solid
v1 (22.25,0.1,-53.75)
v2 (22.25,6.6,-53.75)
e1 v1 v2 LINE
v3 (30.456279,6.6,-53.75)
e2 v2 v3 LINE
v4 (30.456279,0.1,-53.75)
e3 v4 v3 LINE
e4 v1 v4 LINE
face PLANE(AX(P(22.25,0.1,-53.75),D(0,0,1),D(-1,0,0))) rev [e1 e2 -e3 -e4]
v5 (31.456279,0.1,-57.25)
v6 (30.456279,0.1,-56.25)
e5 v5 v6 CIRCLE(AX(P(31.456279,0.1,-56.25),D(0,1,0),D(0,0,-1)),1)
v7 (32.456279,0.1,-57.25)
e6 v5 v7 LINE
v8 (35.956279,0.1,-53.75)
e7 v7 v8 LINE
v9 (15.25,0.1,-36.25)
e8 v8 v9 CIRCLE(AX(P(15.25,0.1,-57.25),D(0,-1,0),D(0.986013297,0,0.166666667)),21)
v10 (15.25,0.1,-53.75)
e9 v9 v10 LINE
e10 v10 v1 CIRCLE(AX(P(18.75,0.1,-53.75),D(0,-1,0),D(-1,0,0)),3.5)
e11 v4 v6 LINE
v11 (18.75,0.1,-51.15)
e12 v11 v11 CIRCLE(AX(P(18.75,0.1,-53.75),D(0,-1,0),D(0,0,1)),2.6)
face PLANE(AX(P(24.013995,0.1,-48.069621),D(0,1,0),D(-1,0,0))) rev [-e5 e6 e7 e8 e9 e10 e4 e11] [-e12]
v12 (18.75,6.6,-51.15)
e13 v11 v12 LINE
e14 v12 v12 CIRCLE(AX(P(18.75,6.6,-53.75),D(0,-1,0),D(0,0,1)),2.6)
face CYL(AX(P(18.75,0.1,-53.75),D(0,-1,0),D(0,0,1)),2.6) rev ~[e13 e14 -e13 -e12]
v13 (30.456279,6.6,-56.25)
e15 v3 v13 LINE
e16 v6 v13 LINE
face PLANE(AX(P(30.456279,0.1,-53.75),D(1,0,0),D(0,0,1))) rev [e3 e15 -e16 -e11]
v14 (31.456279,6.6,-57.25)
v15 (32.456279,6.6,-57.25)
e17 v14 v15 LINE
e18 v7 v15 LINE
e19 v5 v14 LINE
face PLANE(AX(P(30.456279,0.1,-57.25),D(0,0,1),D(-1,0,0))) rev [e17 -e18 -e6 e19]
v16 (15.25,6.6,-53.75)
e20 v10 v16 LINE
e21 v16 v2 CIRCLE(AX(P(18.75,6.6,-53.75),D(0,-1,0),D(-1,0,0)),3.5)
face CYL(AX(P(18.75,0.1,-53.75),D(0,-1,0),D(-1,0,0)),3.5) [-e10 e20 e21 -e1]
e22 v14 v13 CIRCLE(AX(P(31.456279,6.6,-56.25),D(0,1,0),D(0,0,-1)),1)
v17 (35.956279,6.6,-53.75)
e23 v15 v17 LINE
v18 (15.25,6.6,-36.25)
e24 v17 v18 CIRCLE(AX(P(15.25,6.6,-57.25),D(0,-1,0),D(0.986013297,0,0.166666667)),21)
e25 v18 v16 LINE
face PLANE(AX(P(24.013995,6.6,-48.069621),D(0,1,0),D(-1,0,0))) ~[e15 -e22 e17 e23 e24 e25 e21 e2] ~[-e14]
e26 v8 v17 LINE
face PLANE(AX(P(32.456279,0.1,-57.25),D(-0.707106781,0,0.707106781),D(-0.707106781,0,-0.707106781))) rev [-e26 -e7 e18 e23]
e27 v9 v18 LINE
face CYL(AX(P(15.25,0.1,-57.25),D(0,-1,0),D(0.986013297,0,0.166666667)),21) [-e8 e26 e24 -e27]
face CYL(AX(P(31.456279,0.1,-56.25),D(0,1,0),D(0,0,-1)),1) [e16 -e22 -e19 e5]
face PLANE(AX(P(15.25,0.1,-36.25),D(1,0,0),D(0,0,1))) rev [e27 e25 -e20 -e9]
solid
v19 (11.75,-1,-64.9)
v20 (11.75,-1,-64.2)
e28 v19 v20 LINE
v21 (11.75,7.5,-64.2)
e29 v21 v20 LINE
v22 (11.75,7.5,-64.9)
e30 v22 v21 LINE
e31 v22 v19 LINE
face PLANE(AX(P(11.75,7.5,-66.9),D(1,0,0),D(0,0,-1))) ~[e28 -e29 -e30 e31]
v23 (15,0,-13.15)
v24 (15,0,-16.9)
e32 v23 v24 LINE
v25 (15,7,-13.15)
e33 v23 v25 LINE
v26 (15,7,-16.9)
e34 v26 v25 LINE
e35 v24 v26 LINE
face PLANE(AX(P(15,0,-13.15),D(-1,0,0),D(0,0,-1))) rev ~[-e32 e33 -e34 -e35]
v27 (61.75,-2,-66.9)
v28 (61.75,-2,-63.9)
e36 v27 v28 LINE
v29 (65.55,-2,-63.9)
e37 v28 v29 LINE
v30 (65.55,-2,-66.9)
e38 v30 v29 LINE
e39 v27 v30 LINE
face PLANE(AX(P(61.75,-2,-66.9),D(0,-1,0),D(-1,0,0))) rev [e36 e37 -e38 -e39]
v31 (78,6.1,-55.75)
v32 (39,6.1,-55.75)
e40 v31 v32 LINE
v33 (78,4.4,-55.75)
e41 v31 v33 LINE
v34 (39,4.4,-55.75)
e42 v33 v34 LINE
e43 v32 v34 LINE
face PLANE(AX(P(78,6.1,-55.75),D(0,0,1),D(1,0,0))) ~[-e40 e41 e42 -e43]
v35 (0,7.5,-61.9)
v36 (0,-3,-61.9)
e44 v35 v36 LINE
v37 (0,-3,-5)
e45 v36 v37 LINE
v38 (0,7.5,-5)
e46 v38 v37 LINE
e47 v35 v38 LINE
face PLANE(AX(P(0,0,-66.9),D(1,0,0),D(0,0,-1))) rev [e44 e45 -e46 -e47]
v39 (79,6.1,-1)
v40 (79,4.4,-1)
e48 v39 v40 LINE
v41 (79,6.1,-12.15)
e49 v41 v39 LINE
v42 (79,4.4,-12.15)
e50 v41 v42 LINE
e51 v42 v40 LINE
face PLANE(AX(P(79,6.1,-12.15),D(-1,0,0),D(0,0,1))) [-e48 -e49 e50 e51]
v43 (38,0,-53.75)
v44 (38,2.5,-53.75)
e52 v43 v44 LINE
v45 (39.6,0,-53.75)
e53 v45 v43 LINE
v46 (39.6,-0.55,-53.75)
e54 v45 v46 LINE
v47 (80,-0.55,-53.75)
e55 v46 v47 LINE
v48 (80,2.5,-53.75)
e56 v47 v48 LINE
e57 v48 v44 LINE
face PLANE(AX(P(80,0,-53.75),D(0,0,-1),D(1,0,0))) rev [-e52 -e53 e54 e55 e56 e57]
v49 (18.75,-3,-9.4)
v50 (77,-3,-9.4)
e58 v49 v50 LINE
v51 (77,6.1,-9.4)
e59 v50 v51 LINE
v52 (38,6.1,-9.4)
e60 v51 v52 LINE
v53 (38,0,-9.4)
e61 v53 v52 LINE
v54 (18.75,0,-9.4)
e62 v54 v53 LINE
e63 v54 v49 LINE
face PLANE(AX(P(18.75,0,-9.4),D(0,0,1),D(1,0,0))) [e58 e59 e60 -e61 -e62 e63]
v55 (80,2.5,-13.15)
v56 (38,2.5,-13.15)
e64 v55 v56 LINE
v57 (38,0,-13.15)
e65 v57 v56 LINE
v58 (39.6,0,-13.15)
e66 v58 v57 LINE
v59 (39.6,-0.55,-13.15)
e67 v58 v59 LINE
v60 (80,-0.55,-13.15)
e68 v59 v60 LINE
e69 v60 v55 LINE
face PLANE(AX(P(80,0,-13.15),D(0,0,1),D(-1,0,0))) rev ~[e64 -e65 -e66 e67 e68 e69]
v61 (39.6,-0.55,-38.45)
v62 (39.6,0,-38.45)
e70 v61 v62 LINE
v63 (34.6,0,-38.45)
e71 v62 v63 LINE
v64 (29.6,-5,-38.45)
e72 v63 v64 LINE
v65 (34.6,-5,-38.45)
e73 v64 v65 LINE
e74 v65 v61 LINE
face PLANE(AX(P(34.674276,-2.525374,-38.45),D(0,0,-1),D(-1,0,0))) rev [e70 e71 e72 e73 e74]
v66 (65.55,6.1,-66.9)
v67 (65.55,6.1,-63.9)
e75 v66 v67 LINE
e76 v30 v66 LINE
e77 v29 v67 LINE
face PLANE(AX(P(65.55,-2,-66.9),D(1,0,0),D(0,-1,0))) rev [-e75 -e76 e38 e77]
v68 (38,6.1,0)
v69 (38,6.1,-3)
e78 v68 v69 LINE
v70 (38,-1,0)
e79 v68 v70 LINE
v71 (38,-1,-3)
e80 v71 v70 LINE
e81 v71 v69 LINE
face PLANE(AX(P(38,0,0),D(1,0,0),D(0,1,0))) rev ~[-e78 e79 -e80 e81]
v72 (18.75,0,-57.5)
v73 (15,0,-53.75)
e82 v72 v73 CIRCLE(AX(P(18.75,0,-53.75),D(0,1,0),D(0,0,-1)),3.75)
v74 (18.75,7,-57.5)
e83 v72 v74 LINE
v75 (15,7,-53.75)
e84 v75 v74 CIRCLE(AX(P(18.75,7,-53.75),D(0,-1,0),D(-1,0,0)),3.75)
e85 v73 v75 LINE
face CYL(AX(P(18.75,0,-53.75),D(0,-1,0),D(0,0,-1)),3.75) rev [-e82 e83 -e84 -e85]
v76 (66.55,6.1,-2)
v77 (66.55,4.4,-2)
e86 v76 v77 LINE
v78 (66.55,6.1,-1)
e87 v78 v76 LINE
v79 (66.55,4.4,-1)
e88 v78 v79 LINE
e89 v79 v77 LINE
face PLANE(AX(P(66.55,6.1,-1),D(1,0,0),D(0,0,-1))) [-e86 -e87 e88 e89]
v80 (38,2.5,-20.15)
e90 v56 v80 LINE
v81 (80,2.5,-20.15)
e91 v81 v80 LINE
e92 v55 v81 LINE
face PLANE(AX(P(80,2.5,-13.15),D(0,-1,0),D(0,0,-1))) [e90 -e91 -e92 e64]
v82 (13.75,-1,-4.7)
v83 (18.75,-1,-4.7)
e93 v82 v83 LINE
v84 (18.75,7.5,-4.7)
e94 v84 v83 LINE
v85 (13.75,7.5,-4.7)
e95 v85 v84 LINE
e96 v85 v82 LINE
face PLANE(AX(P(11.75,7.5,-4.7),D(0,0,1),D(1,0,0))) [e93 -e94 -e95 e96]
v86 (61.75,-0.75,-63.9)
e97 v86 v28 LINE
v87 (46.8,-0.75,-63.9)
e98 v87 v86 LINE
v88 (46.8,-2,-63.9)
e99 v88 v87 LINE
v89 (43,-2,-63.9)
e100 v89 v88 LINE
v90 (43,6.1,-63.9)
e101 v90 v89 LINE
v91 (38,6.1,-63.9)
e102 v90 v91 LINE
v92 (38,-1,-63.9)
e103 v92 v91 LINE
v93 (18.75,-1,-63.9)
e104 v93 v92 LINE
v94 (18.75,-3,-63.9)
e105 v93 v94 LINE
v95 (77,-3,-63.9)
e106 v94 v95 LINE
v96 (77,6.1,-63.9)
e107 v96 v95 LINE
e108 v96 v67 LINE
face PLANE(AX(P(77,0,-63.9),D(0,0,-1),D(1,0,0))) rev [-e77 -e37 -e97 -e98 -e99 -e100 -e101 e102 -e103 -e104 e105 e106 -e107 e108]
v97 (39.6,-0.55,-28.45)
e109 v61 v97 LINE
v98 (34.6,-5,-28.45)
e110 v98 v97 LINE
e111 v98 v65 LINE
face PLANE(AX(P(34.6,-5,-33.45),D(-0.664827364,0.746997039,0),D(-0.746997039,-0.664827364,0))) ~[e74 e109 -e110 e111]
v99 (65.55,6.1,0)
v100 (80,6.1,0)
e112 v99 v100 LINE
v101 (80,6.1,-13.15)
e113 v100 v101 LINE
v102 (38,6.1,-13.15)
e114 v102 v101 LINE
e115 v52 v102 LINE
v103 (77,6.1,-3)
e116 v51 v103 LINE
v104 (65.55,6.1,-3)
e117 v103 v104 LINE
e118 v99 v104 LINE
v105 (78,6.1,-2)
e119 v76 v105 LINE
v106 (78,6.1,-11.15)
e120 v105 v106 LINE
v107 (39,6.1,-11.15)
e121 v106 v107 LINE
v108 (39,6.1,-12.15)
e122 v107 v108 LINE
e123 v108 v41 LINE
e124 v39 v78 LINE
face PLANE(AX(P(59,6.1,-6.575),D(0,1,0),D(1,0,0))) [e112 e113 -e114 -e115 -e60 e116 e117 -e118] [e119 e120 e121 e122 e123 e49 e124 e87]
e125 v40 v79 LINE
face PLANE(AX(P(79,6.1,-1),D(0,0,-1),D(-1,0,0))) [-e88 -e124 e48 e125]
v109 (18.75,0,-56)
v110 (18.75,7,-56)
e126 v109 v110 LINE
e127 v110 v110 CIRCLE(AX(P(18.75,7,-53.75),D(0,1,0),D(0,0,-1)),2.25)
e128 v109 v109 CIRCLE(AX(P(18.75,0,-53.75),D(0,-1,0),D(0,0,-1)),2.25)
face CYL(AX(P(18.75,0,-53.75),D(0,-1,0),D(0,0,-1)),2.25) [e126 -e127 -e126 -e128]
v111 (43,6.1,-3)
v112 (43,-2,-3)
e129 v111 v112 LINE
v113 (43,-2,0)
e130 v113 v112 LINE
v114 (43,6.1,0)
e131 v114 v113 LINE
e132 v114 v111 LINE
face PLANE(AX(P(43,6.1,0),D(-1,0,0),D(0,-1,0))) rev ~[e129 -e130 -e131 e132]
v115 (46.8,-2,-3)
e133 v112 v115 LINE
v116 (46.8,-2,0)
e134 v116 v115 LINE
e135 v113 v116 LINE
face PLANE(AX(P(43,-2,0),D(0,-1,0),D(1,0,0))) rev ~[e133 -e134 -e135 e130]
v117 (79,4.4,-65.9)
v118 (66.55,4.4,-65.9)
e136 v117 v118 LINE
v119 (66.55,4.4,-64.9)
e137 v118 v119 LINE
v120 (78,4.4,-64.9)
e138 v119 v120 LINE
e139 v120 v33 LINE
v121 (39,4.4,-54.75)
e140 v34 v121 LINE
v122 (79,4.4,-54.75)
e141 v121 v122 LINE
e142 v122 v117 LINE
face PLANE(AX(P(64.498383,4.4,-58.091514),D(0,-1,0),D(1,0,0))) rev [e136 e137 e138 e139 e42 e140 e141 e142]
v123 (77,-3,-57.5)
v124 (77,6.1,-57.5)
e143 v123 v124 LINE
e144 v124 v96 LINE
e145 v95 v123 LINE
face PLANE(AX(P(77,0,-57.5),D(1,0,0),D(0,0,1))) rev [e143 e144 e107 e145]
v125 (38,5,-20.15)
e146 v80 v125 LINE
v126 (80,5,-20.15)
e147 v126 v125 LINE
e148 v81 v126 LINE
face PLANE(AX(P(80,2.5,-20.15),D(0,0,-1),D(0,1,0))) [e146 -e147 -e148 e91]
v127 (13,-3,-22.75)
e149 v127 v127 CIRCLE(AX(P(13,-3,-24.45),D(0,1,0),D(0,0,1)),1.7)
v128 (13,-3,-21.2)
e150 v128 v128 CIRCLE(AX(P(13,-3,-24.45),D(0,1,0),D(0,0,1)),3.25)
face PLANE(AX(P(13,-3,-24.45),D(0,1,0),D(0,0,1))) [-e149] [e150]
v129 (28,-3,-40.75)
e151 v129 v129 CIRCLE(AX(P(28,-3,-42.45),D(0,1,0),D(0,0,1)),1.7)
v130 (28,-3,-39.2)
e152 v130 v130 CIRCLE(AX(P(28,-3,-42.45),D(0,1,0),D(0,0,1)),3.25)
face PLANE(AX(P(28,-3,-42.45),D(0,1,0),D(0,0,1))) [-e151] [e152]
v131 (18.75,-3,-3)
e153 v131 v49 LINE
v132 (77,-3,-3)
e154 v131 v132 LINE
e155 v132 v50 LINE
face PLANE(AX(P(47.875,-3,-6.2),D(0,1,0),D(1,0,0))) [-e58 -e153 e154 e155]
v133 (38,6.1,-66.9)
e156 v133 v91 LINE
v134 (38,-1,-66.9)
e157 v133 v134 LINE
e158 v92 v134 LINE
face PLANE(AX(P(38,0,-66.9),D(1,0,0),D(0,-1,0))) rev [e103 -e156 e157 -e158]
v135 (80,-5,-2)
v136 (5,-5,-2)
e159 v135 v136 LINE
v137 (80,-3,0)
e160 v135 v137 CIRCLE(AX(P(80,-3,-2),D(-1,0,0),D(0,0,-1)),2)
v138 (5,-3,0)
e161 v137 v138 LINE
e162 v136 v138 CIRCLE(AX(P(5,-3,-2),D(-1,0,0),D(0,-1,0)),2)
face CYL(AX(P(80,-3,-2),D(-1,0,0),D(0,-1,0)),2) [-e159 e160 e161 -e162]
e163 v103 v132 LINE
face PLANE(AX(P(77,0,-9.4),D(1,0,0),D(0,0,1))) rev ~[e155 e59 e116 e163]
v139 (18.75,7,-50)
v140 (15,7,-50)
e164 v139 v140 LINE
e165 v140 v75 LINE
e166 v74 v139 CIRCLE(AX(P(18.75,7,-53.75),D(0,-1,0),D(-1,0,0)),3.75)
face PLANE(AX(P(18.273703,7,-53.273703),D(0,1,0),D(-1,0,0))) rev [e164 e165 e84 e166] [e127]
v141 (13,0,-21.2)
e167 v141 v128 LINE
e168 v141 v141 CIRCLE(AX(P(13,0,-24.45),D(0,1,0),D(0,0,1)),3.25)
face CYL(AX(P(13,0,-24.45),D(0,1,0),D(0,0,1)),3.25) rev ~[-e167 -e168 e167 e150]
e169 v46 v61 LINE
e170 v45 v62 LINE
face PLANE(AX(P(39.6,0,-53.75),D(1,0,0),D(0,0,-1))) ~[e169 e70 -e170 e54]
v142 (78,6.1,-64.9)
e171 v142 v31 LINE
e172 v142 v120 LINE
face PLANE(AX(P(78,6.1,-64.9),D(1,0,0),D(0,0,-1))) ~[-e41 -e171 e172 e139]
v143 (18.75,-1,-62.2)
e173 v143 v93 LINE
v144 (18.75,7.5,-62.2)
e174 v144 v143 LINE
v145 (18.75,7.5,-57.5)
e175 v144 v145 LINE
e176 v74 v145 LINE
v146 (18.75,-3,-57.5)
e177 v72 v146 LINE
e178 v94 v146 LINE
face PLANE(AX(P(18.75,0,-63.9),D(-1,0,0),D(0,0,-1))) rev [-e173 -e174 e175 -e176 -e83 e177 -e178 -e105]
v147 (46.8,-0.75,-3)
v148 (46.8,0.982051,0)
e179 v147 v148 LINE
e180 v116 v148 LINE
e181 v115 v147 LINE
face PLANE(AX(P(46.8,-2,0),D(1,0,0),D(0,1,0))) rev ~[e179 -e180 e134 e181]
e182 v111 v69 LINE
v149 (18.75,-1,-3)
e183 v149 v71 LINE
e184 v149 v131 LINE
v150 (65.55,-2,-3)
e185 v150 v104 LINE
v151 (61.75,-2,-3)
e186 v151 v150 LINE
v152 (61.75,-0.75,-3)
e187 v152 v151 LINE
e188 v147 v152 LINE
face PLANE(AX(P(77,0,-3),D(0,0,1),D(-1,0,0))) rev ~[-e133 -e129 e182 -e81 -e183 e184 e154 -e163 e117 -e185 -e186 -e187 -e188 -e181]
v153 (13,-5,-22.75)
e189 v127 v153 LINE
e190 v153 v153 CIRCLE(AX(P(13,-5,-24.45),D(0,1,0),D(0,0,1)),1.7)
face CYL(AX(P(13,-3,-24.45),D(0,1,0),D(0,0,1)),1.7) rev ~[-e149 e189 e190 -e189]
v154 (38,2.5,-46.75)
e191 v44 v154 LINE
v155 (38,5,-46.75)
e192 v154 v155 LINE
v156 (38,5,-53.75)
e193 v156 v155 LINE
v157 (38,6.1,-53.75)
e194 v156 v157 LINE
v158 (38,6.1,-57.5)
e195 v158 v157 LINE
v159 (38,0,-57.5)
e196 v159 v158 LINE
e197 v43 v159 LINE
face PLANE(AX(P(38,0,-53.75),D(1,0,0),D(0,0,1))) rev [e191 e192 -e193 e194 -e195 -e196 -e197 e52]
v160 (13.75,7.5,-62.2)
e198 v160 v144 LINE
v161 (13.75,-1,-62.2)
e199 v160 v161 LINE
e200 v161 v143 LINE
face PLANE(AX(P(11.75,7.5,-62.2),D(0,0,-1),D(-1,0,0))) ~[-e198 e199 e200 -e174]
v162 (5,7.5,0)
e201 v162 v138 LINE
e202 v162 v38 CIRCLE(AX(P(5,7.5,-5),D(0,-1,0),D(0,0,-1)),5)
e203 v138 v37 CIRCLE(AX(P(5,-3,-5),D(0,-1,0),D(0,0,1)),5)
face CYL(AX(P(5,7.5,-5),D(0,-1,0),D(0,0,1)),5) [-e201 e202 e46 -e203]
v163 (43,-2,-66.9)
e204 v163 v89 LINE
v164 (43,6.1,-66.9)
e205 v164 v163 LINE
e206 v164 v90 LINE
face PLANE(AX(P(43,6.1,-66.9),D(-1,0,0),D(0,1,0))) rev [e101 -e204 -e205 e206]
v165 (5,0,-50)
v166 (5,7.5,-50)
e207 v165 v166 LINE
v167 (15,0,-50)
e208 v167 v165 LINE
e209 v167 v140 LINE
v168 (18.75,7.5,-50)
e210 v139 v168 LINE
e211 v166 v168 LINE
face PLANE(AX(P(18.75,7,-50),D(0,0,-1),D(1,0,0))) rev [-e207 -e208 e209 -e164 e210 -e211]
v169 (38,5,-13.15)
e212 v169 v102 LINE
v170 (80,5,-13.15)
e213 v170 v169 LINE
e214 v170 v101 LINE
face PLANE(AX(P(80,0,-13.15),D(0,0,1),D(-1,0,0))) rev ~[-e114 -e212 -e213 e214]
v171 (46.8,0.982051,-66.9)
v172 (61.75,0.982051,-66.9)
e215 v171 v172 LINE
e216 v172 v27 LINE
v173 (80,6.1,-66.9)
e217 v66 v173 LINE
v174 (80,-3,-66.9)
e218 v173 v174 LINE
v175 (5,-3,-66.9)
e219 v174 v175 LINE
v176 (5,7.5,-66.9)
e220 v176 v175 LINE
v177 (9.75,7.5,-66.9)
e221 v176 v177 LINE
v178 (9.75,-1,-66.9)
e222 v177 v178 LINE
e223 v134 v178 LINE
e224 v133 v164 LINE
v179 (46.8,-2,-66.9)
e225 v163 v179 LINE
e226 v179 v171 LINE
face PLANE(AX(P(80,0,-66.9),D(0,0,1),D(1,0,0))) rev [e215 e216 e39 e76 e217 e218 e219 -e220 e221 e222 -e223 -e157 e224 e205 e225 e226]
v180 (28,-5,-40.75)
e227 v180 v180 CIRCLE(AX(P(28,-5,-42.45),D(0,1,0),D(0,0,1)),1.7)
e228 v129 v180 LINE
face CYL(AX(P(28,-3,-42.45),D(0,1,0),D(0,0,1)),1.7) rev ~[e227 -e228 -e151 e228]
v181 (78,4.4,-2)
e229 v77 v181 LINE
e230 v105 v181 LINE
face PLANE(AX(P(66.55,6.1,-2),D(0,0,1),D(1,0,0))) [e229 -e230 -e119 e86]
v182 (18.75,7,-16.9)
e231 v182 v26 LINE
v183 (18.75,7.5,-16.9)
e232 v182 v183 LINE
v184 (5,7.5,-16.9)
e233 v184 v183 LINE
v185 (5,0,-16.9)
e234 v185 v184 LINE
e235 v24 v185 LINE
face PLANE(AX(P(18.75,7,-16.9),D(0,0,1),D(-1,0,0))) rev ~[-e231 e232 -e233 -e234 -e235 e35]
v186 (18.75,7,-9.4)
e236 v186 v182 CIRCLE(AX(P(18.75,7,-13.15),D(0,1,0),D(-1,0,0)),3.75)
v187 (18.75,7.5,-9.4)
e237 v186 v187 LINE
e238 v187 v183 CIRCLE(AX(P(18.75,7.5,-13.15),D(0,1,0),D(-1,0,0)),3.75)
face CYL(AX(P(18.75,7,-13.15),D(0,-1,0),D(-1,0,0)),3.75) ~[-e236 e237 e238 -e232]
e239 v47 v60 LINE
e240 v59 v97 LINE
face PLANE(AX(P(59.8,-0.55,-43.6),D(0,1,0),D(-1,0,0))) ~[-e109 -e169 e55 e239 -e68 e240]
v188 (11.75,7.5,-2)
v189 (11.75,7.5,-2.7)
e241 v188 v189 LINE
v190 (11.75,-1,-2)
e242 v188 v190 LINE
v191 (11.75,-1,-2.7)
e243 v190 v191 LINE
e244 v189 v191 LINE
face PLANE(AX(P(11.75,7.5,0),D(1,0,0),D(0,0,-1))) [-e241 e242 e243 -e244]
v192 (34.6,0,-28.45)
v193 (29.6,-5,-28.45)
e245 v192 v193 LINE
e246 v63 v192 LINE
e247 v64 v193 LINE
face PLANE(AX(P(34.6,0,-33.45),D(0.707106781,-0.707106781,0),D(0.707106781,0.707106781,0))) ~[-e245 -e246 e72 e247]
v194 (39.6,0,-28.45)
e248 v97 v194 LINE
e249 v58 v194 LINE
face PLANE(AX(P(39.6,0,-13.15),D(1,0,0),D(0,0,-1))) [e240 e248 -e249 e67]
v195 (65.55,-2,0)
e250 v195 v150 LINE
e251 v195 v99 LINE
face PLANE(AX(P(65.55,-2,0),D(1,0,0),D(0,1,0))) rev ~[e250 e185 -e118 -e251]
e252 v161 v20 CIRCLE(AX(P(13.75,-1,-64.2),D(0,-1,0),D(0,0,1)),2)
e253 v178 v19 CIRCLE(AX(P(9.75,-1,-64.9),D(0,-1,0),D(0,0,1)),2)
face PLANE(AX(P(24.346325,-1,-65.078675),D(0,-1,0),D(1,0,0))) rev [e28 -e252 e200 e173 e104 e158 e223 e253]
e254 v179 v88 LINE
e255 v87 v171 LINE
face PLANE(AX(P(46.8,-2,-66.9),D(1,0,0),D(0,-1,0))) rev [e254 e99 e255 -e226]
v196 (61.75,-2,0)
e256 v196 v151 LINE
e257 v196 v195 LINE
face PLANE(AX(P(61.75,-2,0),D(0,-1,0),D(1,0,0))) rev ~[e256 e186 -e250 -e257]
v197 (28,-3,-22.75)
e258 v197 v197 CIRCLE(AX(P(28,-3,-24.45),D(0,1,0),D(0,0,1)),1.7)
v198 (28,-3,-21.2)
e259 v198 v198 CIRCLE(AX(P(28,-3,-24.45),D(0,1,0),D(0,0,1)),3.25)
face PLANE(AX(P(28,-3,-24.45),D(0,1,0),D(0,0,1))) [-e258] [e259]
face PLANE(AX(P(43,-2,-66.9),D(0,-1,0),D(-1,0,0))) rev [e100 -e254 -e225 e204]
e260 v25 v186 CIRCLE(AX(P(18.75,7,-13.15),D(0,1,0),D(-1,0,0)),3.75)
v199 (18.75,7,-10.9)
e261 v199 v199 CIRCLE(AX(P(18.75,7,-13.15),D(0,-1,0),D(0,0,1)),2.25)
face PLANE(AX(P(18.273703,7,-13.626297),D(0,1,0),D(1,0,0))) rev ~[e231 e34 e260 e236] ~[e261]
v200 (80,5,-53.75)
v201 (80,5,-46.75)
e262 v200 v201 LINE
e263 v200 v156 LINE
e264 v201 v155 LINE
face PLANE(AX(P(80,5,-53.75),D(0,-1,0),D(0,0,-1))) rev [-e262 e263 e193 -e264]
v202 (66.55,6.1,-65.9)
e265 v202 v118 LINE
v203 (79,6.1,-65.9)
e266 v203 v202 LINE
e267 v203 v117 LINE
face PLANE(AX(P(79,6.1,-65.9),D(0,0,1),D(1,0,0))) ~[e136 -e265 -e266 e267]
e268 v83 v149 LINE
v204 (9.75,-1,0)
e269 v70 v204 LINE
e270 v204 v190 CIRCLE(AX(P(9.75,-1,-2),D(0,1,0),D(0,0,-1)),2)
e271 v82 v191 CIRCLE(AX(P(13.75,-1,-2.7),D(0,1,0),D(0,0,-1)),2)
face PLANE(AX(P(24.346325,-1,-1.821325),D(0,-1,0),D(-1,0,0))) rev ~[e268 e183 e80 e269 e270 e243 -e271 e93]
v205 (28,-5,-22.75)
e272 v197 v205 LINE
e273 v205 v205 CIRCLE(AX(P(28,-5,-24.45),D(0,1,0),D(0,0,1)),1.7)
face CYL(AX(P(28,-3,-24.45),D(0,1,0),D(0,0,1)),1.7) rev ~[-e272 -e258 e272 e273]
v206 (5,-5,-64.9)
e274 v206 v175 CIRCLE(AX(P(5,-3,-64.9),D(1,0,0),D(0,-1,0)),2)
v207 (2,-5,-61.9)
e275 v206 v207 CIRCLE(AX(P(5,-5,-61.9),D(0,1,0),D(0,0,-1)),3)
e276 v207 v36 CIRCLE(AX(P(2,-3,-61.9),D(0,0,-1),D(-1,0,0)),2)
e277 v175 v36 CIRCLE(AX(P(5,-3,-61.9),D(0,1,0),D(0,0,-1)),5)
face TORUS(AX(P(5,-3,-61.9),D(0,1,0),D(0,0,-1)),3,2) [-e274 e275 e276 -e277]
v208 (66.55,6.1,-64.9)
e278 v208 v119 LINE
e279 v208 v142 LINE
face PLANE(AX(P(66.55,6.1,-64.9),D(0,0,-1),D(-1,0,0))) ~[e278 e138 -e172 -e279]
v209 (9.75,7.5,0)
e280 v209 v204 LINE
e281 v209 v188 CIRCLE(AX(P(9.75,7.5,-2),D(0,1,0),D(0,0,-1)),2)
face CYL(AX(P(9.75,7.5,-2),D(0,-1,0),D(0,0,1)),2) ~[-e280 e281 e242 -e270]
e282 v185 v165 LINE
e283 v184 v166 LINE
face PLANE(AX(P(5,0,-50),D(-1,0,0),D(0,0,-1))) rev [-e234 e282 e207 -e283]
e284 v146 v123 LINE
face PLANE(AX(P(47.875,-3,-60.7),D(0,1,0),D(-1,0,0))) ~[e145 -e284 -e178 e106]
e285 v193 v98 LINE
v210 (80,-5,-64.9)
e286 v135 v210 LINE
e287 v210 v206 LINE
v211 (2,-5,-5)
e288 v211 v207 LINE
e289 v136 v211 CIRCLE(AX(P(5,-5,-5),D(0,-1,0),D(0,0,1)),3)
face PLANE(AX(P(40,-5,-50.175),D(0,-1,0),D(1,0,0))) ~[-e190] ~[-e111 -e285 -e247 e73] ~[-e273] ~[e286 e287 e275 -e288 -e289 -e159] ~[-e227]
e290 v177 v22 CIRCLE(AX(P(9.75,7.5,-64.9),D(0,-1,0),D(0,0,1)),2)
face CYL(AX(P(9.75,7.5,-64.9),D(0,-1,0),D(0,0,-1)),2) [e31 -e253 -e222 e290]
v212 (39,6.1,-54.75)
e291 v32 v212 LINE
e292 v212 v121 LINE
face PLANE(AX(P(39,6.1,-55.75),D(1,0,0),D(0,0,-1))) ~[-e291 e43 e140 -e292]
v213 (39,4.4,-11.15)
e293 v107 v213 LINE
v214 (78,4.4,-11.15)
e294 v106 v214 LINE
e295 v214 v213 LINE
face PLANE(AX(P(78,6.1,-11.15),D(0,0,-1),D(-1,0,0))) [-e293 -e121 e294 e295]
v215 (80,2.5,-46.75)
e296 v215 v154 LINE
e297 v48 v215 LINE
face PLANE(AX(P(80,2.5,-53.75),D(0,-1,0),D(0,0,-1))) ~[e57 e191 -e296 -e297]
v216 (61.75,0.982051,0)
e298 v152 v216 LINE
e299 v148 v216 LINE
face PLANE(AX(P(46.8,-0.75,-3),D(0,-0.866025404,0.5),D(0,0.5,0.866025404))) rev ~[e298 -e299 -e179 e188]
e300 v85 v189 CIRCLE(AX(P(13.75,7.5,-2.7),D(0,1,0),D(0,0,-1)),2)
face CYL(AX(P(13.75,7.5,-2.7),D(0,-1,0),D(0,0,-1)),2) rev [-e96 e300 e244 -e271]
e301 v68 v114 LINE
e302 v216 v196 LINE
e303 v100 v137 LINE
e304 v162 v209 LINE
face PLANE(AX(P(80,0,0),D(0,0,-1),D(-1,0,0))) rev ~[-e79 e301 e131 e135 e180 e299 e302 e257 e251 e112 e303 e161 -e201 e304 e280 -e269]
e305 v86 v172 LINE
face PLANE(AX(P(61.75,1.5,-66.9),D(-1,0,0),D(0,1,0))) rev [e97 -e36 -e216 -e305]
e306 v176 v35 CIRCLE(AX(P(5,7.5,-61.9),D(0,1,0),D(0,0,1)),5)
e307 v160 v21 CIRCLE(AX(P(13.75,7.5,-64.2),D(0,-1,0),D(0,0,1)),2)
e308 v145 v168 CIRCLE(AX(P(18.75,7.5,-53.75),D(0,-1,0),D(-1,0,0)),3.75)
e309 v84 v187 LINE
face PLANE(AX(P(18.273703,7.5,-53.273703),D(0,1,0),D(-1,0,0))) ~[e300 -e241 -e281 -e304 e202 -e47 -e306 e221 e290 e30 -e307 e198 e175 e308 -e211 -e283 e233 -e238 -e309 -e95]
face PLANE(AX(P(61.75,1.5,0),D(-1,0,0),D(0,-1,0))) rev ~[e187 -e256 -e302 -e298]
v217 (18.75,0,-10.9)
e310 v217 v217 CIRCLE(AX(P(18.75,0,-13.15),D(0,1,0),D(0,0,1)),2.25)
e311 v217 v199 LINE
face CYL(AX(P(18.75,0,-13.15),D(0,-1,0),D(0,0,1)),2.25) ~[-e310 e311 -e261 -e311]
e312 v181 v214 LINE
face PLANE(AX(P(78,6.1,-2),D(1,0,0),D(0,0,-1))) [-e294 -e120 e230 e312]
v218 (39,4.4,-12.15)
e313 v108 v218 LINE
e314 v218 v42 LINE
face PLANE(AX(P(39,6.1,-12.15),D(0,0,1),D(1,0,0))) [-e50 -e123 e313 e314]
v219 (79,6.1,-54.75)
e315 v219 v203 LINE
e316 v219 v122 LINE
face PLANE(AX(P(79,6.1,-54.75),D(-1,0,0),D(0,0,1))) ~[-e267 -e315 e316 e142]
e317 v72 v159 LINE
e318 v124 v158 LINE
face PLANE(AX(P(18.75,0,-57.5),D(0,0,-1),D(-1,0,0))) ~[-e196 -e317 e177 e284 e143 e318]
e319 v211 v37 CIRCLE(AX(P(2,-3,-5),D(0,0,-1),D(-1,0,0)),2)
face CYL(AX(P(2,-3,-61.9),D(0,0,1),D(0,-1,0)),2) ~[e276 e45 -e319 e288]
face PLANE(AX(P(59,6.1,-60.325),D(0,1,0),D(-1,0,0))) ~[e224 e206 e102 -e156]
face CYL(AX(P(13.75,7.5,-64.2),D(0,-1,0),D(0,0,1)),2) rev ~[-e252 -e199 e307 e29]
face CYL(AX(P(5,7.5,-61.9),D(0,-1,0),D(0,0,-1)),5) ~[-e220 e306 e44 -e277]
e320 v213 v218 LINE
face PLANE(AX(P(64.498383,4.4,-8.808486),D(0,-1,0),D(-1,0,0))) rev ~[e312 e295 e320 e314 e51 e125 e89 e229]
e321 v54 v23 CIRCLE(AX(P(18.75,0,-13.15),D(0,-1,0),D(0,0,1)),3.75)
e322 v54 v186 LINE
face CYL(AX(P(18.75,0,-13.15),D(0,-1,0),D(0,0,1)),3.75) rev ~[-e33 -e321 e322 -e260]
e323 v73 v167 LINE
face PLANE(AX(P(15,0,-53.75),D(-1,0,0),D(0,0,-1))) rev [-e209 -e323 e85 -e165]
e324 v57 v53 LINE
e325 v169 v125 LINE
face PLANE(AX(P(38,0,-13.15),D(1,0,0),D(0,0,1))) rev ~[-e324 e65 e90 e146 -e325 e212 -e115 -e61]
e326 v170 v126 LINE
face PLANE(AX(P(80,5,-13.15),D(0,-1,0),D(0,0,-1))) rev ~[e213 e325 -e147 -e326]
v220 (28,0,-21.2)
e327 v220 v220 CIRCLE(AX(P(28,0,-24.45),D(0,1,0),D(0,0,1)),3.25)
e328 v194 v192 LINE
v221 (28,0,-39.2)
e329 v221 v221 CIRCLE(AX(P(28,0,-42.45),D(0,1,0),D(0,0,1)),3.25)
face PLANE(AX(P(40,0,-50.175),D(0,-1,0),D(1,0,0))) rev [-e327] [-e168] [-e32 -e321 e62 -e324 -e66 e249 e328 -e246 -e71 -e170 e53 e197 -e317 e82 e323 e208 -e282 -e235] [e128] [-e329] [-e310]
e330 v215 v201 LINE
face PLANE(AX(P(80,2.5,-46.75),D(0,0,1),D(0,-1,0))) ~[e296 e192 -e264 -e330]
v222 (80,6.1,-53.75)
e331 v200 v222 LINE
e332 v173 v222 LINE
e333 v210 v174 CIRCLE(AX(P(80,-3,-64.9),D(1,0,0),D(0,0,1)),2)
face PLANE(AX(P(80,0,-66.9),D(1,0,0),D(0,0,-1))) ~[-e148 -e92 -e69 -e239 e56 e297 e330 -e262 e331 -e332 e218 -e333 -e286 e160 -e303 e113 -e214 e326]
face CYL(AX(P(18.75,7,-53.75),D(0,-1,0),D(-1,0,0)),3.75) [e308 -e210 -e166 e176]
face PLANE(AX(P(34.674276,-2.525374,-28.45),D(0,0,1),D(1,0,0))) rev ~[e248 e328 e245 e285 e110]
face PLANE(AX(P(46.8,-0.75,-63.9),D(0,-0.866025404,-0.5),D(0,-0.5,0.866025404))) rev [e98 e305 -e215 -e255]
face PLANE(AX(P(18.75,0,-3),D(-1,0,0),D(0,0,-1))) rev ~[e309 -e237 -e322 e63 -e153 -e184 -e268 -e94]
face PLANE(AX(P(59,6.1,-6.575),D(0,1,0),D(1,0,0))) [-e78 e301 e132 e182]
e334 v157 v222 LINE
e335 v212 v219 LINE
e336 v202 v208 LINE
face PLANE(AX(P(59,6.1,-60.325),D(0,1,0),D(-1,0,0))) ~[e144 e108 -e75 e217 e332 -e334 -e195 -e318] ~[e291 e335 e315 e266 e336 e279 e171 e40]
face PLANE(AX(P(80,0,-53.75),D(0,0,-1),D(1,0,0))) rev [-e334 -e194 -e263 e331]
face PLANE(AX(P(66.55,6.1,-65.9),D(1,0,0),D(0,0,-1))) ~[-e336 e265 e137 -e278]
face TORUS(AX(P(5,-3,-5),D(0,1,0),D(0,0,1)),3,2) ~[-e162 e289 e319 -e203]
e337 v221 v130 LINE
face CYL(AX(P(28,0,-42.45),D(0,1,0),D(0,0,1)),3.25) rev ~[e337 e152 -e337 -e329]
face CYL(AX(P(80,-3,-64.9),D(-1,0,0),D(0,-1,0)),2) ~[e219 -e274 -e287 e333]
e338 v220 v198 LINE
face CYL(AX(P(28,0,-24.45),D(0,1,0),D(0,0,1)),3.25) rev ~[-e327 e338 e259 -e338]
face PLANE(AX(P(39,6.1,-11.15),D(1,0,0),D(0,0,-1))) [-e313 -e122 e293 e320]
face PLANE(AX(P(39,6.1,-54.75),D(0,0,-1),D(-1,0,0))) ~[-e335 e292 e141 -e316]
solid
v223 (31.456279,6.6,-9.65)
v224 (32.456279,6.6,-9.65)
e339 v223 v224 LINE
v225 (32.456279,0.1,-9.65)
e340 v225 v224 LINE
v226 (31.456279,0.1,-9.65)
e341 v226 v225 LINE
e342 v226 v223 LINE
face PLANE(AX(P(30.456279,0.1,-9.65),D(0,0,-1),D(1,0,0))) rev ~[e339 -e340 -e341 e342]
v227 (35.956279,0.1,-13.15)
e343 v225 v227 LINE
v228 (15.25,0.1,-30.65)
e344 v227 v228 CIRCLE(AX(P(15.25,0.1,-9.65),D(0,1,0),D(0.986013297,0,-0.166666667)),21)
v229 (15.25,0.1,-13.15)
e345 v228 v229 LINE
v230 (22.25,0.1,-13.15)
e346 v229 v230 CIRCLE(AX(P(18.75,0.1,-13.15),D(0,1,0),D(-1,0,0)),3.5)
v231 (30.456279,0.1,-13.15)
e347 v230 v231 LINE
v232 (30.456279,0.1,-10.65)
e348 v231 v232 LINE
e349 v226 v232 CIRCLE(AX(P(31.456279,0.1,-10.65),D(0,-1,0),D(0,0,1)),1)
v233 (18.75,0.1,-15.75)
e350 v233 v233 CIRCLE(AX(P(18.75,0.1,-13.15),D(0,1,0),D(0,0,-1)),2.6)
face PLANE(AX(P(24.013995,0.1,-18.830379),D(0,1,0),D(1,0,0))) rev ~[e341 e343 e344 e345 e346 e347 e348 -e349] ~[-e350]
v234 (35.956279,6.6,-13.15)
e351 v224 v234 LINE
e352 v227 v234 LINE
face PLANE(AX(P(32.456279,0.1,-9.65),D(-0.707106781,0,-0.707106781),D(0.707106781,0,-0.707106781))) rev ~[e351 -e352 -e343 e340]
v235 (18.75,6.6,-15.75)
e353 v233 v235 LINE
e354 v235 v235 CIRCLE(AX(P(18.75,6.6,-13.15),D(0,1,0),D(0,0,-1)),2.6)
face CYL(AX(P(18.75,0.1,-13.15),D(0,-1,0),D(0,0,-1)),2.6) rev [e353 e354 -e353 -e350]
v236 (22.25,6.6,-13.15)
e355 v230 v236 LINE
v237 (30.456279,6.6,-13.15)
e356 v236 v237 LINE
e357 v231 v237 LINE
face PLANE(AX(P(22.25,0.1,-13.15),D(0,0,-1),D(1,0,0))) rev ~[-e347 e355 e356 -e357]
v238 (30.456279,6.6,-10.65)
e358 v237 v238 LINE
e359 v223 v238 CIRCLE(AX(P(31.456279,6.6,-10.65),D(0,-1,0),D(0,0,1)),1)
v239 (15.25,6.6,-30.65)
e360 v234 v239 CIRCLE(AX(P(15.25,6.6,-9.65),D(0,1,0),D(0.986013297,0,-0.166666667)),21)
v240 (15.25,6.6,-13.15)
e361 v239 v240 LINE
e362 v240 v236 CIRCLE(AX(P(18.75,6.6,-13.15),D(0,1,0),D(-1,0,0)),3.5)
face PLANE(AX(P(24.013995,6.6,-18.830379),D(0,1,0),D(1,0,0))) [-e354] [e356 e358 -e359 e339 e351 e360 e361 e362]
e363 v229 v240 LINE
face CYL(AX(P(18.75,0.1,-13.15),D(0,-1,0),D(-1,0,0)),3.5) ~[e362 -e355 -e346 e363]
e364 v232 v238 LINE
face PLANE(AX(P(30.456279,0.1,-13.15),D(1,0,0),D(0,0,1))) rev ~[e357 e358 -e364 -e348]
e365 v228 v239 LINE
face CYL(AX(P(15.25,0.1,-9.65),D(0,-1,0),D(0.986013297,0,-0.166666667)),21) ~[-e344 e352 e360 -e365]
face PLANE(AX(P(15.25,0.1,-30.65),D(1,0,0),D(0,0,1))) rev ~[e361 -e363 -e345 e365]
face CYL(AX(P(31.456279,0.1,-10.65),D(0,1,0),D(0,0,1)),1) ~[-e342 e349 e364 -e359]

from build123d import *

# Parameters (mm, degrees)
SKETCH1_R           = 2.25
BOSS_EXTRUDE1_DEPTH = 7.5
SKETCH2_W           = 80
SKETCH2_H           = 33.45
BOSS_EXTRUDE2_DEPTH = 5
SKETCH3_W           = 19.25
SKETCH3_H           = 7.5
CUT_EXTRUDE1_DEPTH  = 3
SKETCH4_W           = 58.25
SKETCH4_H           = 6.4
CUT_EXTRUDE2_DEPTH  = 3
SKETCH5_W           = 7
SKETCH5_H           = 2.5
BOSS_EXTRUDE3_DEPTH = 42
SKETCH6_W           = 40.4
SKETCH6_H           = 20.3
CUT_EXTRUDE3_DEPTH  = 0.55
BOSS_EXTRUDE4_START = 0.1
SKETCH7_R           = 2.6
BOSS_EXTRUDE4_DEPTH = 6.5
BOSS_EXTRUDE5_START = -0.5
BOSS_EXTRUDE5_DEPTH = 0.5
SKETCH9_W           = 7
SKETCH9_H           = 4.7
CUT_EXTRUDE4_DEPTH  = 7.5
CUT_EXTRUDE5_DEPTH  = 1
FILLET2_R           = 2
FILLET3_R           = 1
FILLET4_R           = 5
FILLET5_R           = 2
CUT_EXTRUDE11_DEPTH = 5
CUT_EXTRUDE12_DEPTH = 14.95
SKETCH17_W          = 42
SKETCH17_H          = 13.15
CUT_EXTRUDE13_DEPTH = 1.4
CUT_EXTRUDE14_DEPTH = 1.7
SKETCH19_R          = 3.25
SKETCH19_R_2        = 1.7
CUT_EXTRUDE15_DEPTH = 3
SKETCH20_R          = 1.7
CUT_EXTRUDE16_DEPTH = 105.813453335


with BuildPart() as part:
    # Sketch1 → Boss-Extrude1 (new body)
    with BuildSketch(Plane(origin=(0, 0, 0), x_dir=(1, 0, 0), z_dir=(0, 1, 0))):
        with BuildLine():
            Line((5, 16.9), (5, 33.45))
            Line((5, 33.45), (0, 33.45))
            Line((0, 33.45), (0, 0))
            Line((0, 0), (80, 0))
            Line((80, 0), (80, 9.4))
            Line((80, 9.4), (77, 9.4))
            Line((77, 9.4), (77, 3))
            Line((77, 3), (18.75, 3))
            Line((18.75, 3), (18.75, 9.4))
            ThreePointArc((18.75, 9.4), (16.098349571, 10.498349571), (15, 13.15))
            Line((15, 13.15), (15, 16.9))
            Line((15, 16.9), (5, 16.9))
        make_face()
        with Locations(Location((18.75, 13.15, 0), (0, 0, 270))):
            Circle(SKETCH1_R)
        Polygon((80, 9.4), (80, 13.15), (38, 13.15), (38, 9.4), (77, 9.4), align=None)
    extrude(amount=BOSS_EXTRUDE1_DEPTH)

    # Sketch2 → Boss-Extrude2 (add)
    with BuildSketch(Plane(origin=(0, 0, 0), x_dir=(-1, 0, 0), z_dir=(0, -1, 0))):
        with Locations((-40, 16.725)):
            Rectangle(SKETCH2_W, SKETCH2_H)
    extrude(amount=BOSS_EXTRUDE2_DEPTH)

    # Sketch3 → Cut-Extrude1 (cut)
    with BuildSketch(Plane.XY):
        Polygon((65.55, 6.1), (43, 6.1), (43, -2), (46.8, -2), (46.8, 1.5), (61.75, 1.5), (61.75, -2), (65.55, -2), align=None)
        with Locations((28.375, 3.75)):
            Rectangle(SKETCH3_W, SKETCH3_H)
    extrude(amount=-CUT_EXTRUDE1_DEPTH, mode=Mode.SUBTRACT)

    # Sketch4 → Cut-Extrude2 (cut)
    with BuildSketch(Plane(origin=(0, 0, 0), x_dir=(1, 0, 0), z_dir=(0, 1, 0))):
        with Locations((47.875, 6.2)):
            Rectangle(SKETCH4_W, SKETCH4_H)
    extrude(amount=-CUT_EXTRUDE2_DEPTH, mode=Mode.SUBTRACT)

    # Sketch5 → Boss-Extrude3 (add)
    with BuildSketch(Plane(origin=(80, 0, 0), x_dir=(0, 0, -1), z_dir=(1, 0, 0))):
        with Locations((16.65, 3.75)):
            Rectangle(SKETCH5_W, SKETCH5_H)
    extrude(amount=-BOSS_EXTRUDE3_DEPTH)

    # Sketch6 → Cut-Extrude3 (cut)
    with BuildSketch(Plane(origin=(0, 0, 0), x_dir=(1, 0, 0), z_dir=(0, 1, 0))):
        with Locations((59.8, 23.3)):
            Rectangle(SKETCH6_W, SKETCH6_H)
    extrude(amount=-CUT_EXTRUDE3_DEPTH, mode=Mode.SUBTRACT)

    # Sketch8 → Boss-Extrude5 (add)
    with BuildSketch(Plane(origin=(0, 7.5, 0), x_dir=(1, 0, 0), z_dir=(0, 1, 0)).offset(BOSS_EXTRUDE5_START)):
        with BuildLine():
            Line((15, 16.9), (15, 13.15))
            ThreePointArc((15, 13.15), (21.401650429, 10.498349571), (18.75, 16.9))
            Line((18.75, 16.9), (15, 16.9))
        make_face()
    extrude(amount=BOSS_EXTRUDE5_DEPTH)

    # Sketch9 → Cut-Extrude4 (cut)
    with BuildSketch(Plane(origin=(0, 7.5, 0), x_dir=(1, 0, 0), z_dir=(0, 1, 0))):
        with Locations((15.25, 2.35)):
            Rectangle(SKETCH9_W, SKETCH9_H)
    extrude(amount=-CUT_EXTRUDE4_DEPTH, mode=Mode.SUBTRACT)

    # Sketch10 → Cut-Extrude5 (cut)
    with BuildSketch(Plane(origin=(0, 0, 0), x_dir=(1, 0, 0), z_dir=(0, 1, 0))):
        Polygon((18.75, 4.7), (18.75, 3), (38, 3), (38, 0), (11.75, 0), (11.75, 4.7), align=None)
    extrude(amount=-CUT_EXTRUDE5_DEPTH, mode=Mode.SUBTRACT)

    # Fillet2
    fillet2_edges = [part.edges().sort_by_distance(p)[0] for p in [
        (11.75, 3.25, -4.7),
        (11.75, 3.25, 0),
    ]]
    fillet(fillet2_edges, radius=FILLET2_R)

    # Fillet4
    fillet4_edges = [part.edges().sort_by_distance(p)[0] for p in [
        (0, 1.25, 0),
    ]]
    fillet(fillet4_edges, radius=FILLET4_R)

    # Fillet5
    fillet5_edges = [part.edges().sort_by_distance(p)[0] for p in [
        (0, -5, -19.225),
        (1.464466094, -5, -1.464466094),
        (42.5, -5, 0),
    ]]
    fillet(fillet5_edges, radius=FILLET5_R)

    # Sketch15 → Cut-Extrude11 (cut)
    with BuildSketch(Plane(origin=(0, 0, -33.45), x_dir=(-1, 0, 0), z_dir=(0, 0, -1))):
        Polygon((-39.6, 0), (-34.6, 0), (-29.6, -5), (-34.6, -5), (-39.6, -0.55), align=None)
    extrude(amount=-CUT_EXTRUDE11_DEPTH, mode=Mode.SUBTRACT)

    # Sketch16 → Cut-Extrude12 (cut)
    with BuildSketch(Plane.ZY.offset(-46.8)):
        Polygon((-3, -0.75), (0, 0.982050808), (0, 1.5), (-3, 1.5), align=None)
    extrude(amount=-CUT_EXTRUDE12_DEPTH, mode=Mode.SUBTRACT)

    # Sketch17 → Cut-Extrude13 (cut)
    with BuildSketch(Plane(origin=(0, 7.5, 0), x_dir=(1, 0, 0), z_dir=(0, 1, 0))):
        with Locations((59, 6.575)):
            Rectangle(SKETCH17_W, SKETCH17_H)
    extrude(amount=-CUT_EXTRUDE13_DEPTH, mode=Mode.SUBTRACT)

    # Sketch18 → Cut-Extrude14 (cut)
    with BuildSketch(Plane(origin=(0, 6.1, 0), x_dir=(1, 0, 0), z_dir=(0, 1, 0))):
        Polygon((78, 11.15), (39, 11.15), (39, 12.15), (79, 12.15), (79, 1), (66.55, 1), (66.55, 2), (78, 2), align=None)
    extrude(amount=-CUT_EXTRUDE14_DEPTH, mode=Mode.SUBTRACT)

    # Mirror1: part across plane


with BuildPart() as body_2:
    # Sketch7 → Boss-Extrude4 (new body)
    with BuildSketch(Plane(origin=(0, 0, 0), x_dir=(1, 0, 0), z_dir=(0, 1, 0)).offset(BOSS_EXTRUDE4_START)):
        with BuildLine():
            Line((15.25, 30.65), (15.25, 13.15))
            ThreePointArc((15.25, 13.15), (18.75, 9.65), (22.25, 13.15))
            Line((22.25, 13.15), (30.456279241, 13.15))
            Line((30.456279241, 13.15), (30.456279241, 9.65))
            Line((30.456279241, 9.65), (32.456279241, 9.65))
            Line((32.456279241, 9.65), (35.956279241, 13.15))
            ThreePointArc((35.956279241, 13.15), (28.805441712, 25.689014932), (15.25, 30.65))
        make_face()
        with Locations(Location((18.75, 13.15, 0), (0, 0, 90))):
            Circle(SKETCH7_R, mode=Mode.SUBTRACT)
    extrude(amount=BOSS_EXTRUDE4_DEPTH)

    # Fillet3
    fillet3_edges = [body_2.edges().sort_by_distance(p)[0] for p in [
        (30.456279241, 3.35, -9.65),
    ]]
    fillet(fillet3_edges, radius=FILLET3_R)


with BuildPart() as part_1:
    add(part.part)
    add(part.part.mirror(Plane(origin=(0, -5, -33.45), x_dir=(1, 0, 0), z_dir=(0, 0, 1))))

    # Sketch19 → Cut-Extrude15 (cut)
    # profile 1 of 6: a face of its own
    with BuildSketch(Plane(origin=(0, 0, 0), x_dir=(1, 0, 0), z_dir=(0, 1, 0))):
        with Locations(Location((28, 24.45, 0), (0, 0, 270))):
            Circle(SKETCH19_R)
        with Locations((28, 24.45)):
            Circle(SKETCH19_R_2, mode=Mode.SUBTRACT)
    # profile 2 of 6: a face of its own
    with BuildSketch(Plane(origin=(0, 0, 0), x_dir=(1, 0, 0), z_dir=(0, 1, 0))):
        with Locations(Location((13, 24.45, 0), (0, 0, 270))):
            Circle(SKETCH19_R)
        with Locations((13, 24.45)):
            Circle(SKETCH19_R_2, mode=Mode.SUBTRACT)
    # profile 3 of 6: a face of its own
    with BuildSketch(Plane(origin=(0, 0, 0), x_dir=(1, 0, 0), z_dir=(0, 1, 0))):
        with Locations((13, 24.45)):
            Circle(SKETCH19_R_2)
    # profile 4 of 6: a face of its own
    with BuildSketch(Plane(origin=(0, 0, 0), x_dir=(1, 0, 0), z_dir=(0, 1, 0))):
        with Locations((28, 24.45)):
            Circle(SKETCH19_R_2)
    # profile 5 of 6: a face of its own
    with BuildSketch(Plane(origin=(0, 0, 0), x_dir=(1, 0, 0), z_dir=(0, 1, 0))):
        with Locations(Location((28, 42.45, 0), (0, 0, 270))):
            Circle(SKETCH19_R)
        with Locations((28, 42.45)):
            Circle(SKETCH19_R_2, mode=Mode.SUBTRACT)
    # profile 6 of 6: a face of its own
    with BuildSketch(Plane(origin=(0, 0, 0), x_dir=(1, 0, 0), z_dir=(0, 1, 0))):
        with Locations((28, 42.45)):
            Circle(SKETCH19_R_2)
    extrude(amount=-CUT_EXTRUDE15_DEPTH, mode=Mode.SUBTRACT)

    # Sketch20 → Cut-Extrude16 (cut, through all)
    with BuildSketch(Plane(origin=(0, -3, 0), x_dir=(1, 0, 0), z_dir=(0, 1, 0))):
        with Locations(Location((13, 24.45, 0), (0, 0, 270))):
            Circle(SKETCH20_R)
        with Locations(Location((28, 24.45, 0), (0, 0, 270))):
            Circle(SKETCH20_R)
        with Locations(Location((28, 42.45, 0), (0, 0, 270))):
            Circle(SKETCH20_R)
    extrude(amount=-CUT_EXTRUDE16_DEPTH, mode=Mode.SUBTRACT)


with BuildPart() as body_3:
    # Mirror2: mirrored copy
    add(body_2.part.mirror(Plane.XY.offset(-33.45)))


solid = Compound([body_2.part, part_1.part, body_3.part])
